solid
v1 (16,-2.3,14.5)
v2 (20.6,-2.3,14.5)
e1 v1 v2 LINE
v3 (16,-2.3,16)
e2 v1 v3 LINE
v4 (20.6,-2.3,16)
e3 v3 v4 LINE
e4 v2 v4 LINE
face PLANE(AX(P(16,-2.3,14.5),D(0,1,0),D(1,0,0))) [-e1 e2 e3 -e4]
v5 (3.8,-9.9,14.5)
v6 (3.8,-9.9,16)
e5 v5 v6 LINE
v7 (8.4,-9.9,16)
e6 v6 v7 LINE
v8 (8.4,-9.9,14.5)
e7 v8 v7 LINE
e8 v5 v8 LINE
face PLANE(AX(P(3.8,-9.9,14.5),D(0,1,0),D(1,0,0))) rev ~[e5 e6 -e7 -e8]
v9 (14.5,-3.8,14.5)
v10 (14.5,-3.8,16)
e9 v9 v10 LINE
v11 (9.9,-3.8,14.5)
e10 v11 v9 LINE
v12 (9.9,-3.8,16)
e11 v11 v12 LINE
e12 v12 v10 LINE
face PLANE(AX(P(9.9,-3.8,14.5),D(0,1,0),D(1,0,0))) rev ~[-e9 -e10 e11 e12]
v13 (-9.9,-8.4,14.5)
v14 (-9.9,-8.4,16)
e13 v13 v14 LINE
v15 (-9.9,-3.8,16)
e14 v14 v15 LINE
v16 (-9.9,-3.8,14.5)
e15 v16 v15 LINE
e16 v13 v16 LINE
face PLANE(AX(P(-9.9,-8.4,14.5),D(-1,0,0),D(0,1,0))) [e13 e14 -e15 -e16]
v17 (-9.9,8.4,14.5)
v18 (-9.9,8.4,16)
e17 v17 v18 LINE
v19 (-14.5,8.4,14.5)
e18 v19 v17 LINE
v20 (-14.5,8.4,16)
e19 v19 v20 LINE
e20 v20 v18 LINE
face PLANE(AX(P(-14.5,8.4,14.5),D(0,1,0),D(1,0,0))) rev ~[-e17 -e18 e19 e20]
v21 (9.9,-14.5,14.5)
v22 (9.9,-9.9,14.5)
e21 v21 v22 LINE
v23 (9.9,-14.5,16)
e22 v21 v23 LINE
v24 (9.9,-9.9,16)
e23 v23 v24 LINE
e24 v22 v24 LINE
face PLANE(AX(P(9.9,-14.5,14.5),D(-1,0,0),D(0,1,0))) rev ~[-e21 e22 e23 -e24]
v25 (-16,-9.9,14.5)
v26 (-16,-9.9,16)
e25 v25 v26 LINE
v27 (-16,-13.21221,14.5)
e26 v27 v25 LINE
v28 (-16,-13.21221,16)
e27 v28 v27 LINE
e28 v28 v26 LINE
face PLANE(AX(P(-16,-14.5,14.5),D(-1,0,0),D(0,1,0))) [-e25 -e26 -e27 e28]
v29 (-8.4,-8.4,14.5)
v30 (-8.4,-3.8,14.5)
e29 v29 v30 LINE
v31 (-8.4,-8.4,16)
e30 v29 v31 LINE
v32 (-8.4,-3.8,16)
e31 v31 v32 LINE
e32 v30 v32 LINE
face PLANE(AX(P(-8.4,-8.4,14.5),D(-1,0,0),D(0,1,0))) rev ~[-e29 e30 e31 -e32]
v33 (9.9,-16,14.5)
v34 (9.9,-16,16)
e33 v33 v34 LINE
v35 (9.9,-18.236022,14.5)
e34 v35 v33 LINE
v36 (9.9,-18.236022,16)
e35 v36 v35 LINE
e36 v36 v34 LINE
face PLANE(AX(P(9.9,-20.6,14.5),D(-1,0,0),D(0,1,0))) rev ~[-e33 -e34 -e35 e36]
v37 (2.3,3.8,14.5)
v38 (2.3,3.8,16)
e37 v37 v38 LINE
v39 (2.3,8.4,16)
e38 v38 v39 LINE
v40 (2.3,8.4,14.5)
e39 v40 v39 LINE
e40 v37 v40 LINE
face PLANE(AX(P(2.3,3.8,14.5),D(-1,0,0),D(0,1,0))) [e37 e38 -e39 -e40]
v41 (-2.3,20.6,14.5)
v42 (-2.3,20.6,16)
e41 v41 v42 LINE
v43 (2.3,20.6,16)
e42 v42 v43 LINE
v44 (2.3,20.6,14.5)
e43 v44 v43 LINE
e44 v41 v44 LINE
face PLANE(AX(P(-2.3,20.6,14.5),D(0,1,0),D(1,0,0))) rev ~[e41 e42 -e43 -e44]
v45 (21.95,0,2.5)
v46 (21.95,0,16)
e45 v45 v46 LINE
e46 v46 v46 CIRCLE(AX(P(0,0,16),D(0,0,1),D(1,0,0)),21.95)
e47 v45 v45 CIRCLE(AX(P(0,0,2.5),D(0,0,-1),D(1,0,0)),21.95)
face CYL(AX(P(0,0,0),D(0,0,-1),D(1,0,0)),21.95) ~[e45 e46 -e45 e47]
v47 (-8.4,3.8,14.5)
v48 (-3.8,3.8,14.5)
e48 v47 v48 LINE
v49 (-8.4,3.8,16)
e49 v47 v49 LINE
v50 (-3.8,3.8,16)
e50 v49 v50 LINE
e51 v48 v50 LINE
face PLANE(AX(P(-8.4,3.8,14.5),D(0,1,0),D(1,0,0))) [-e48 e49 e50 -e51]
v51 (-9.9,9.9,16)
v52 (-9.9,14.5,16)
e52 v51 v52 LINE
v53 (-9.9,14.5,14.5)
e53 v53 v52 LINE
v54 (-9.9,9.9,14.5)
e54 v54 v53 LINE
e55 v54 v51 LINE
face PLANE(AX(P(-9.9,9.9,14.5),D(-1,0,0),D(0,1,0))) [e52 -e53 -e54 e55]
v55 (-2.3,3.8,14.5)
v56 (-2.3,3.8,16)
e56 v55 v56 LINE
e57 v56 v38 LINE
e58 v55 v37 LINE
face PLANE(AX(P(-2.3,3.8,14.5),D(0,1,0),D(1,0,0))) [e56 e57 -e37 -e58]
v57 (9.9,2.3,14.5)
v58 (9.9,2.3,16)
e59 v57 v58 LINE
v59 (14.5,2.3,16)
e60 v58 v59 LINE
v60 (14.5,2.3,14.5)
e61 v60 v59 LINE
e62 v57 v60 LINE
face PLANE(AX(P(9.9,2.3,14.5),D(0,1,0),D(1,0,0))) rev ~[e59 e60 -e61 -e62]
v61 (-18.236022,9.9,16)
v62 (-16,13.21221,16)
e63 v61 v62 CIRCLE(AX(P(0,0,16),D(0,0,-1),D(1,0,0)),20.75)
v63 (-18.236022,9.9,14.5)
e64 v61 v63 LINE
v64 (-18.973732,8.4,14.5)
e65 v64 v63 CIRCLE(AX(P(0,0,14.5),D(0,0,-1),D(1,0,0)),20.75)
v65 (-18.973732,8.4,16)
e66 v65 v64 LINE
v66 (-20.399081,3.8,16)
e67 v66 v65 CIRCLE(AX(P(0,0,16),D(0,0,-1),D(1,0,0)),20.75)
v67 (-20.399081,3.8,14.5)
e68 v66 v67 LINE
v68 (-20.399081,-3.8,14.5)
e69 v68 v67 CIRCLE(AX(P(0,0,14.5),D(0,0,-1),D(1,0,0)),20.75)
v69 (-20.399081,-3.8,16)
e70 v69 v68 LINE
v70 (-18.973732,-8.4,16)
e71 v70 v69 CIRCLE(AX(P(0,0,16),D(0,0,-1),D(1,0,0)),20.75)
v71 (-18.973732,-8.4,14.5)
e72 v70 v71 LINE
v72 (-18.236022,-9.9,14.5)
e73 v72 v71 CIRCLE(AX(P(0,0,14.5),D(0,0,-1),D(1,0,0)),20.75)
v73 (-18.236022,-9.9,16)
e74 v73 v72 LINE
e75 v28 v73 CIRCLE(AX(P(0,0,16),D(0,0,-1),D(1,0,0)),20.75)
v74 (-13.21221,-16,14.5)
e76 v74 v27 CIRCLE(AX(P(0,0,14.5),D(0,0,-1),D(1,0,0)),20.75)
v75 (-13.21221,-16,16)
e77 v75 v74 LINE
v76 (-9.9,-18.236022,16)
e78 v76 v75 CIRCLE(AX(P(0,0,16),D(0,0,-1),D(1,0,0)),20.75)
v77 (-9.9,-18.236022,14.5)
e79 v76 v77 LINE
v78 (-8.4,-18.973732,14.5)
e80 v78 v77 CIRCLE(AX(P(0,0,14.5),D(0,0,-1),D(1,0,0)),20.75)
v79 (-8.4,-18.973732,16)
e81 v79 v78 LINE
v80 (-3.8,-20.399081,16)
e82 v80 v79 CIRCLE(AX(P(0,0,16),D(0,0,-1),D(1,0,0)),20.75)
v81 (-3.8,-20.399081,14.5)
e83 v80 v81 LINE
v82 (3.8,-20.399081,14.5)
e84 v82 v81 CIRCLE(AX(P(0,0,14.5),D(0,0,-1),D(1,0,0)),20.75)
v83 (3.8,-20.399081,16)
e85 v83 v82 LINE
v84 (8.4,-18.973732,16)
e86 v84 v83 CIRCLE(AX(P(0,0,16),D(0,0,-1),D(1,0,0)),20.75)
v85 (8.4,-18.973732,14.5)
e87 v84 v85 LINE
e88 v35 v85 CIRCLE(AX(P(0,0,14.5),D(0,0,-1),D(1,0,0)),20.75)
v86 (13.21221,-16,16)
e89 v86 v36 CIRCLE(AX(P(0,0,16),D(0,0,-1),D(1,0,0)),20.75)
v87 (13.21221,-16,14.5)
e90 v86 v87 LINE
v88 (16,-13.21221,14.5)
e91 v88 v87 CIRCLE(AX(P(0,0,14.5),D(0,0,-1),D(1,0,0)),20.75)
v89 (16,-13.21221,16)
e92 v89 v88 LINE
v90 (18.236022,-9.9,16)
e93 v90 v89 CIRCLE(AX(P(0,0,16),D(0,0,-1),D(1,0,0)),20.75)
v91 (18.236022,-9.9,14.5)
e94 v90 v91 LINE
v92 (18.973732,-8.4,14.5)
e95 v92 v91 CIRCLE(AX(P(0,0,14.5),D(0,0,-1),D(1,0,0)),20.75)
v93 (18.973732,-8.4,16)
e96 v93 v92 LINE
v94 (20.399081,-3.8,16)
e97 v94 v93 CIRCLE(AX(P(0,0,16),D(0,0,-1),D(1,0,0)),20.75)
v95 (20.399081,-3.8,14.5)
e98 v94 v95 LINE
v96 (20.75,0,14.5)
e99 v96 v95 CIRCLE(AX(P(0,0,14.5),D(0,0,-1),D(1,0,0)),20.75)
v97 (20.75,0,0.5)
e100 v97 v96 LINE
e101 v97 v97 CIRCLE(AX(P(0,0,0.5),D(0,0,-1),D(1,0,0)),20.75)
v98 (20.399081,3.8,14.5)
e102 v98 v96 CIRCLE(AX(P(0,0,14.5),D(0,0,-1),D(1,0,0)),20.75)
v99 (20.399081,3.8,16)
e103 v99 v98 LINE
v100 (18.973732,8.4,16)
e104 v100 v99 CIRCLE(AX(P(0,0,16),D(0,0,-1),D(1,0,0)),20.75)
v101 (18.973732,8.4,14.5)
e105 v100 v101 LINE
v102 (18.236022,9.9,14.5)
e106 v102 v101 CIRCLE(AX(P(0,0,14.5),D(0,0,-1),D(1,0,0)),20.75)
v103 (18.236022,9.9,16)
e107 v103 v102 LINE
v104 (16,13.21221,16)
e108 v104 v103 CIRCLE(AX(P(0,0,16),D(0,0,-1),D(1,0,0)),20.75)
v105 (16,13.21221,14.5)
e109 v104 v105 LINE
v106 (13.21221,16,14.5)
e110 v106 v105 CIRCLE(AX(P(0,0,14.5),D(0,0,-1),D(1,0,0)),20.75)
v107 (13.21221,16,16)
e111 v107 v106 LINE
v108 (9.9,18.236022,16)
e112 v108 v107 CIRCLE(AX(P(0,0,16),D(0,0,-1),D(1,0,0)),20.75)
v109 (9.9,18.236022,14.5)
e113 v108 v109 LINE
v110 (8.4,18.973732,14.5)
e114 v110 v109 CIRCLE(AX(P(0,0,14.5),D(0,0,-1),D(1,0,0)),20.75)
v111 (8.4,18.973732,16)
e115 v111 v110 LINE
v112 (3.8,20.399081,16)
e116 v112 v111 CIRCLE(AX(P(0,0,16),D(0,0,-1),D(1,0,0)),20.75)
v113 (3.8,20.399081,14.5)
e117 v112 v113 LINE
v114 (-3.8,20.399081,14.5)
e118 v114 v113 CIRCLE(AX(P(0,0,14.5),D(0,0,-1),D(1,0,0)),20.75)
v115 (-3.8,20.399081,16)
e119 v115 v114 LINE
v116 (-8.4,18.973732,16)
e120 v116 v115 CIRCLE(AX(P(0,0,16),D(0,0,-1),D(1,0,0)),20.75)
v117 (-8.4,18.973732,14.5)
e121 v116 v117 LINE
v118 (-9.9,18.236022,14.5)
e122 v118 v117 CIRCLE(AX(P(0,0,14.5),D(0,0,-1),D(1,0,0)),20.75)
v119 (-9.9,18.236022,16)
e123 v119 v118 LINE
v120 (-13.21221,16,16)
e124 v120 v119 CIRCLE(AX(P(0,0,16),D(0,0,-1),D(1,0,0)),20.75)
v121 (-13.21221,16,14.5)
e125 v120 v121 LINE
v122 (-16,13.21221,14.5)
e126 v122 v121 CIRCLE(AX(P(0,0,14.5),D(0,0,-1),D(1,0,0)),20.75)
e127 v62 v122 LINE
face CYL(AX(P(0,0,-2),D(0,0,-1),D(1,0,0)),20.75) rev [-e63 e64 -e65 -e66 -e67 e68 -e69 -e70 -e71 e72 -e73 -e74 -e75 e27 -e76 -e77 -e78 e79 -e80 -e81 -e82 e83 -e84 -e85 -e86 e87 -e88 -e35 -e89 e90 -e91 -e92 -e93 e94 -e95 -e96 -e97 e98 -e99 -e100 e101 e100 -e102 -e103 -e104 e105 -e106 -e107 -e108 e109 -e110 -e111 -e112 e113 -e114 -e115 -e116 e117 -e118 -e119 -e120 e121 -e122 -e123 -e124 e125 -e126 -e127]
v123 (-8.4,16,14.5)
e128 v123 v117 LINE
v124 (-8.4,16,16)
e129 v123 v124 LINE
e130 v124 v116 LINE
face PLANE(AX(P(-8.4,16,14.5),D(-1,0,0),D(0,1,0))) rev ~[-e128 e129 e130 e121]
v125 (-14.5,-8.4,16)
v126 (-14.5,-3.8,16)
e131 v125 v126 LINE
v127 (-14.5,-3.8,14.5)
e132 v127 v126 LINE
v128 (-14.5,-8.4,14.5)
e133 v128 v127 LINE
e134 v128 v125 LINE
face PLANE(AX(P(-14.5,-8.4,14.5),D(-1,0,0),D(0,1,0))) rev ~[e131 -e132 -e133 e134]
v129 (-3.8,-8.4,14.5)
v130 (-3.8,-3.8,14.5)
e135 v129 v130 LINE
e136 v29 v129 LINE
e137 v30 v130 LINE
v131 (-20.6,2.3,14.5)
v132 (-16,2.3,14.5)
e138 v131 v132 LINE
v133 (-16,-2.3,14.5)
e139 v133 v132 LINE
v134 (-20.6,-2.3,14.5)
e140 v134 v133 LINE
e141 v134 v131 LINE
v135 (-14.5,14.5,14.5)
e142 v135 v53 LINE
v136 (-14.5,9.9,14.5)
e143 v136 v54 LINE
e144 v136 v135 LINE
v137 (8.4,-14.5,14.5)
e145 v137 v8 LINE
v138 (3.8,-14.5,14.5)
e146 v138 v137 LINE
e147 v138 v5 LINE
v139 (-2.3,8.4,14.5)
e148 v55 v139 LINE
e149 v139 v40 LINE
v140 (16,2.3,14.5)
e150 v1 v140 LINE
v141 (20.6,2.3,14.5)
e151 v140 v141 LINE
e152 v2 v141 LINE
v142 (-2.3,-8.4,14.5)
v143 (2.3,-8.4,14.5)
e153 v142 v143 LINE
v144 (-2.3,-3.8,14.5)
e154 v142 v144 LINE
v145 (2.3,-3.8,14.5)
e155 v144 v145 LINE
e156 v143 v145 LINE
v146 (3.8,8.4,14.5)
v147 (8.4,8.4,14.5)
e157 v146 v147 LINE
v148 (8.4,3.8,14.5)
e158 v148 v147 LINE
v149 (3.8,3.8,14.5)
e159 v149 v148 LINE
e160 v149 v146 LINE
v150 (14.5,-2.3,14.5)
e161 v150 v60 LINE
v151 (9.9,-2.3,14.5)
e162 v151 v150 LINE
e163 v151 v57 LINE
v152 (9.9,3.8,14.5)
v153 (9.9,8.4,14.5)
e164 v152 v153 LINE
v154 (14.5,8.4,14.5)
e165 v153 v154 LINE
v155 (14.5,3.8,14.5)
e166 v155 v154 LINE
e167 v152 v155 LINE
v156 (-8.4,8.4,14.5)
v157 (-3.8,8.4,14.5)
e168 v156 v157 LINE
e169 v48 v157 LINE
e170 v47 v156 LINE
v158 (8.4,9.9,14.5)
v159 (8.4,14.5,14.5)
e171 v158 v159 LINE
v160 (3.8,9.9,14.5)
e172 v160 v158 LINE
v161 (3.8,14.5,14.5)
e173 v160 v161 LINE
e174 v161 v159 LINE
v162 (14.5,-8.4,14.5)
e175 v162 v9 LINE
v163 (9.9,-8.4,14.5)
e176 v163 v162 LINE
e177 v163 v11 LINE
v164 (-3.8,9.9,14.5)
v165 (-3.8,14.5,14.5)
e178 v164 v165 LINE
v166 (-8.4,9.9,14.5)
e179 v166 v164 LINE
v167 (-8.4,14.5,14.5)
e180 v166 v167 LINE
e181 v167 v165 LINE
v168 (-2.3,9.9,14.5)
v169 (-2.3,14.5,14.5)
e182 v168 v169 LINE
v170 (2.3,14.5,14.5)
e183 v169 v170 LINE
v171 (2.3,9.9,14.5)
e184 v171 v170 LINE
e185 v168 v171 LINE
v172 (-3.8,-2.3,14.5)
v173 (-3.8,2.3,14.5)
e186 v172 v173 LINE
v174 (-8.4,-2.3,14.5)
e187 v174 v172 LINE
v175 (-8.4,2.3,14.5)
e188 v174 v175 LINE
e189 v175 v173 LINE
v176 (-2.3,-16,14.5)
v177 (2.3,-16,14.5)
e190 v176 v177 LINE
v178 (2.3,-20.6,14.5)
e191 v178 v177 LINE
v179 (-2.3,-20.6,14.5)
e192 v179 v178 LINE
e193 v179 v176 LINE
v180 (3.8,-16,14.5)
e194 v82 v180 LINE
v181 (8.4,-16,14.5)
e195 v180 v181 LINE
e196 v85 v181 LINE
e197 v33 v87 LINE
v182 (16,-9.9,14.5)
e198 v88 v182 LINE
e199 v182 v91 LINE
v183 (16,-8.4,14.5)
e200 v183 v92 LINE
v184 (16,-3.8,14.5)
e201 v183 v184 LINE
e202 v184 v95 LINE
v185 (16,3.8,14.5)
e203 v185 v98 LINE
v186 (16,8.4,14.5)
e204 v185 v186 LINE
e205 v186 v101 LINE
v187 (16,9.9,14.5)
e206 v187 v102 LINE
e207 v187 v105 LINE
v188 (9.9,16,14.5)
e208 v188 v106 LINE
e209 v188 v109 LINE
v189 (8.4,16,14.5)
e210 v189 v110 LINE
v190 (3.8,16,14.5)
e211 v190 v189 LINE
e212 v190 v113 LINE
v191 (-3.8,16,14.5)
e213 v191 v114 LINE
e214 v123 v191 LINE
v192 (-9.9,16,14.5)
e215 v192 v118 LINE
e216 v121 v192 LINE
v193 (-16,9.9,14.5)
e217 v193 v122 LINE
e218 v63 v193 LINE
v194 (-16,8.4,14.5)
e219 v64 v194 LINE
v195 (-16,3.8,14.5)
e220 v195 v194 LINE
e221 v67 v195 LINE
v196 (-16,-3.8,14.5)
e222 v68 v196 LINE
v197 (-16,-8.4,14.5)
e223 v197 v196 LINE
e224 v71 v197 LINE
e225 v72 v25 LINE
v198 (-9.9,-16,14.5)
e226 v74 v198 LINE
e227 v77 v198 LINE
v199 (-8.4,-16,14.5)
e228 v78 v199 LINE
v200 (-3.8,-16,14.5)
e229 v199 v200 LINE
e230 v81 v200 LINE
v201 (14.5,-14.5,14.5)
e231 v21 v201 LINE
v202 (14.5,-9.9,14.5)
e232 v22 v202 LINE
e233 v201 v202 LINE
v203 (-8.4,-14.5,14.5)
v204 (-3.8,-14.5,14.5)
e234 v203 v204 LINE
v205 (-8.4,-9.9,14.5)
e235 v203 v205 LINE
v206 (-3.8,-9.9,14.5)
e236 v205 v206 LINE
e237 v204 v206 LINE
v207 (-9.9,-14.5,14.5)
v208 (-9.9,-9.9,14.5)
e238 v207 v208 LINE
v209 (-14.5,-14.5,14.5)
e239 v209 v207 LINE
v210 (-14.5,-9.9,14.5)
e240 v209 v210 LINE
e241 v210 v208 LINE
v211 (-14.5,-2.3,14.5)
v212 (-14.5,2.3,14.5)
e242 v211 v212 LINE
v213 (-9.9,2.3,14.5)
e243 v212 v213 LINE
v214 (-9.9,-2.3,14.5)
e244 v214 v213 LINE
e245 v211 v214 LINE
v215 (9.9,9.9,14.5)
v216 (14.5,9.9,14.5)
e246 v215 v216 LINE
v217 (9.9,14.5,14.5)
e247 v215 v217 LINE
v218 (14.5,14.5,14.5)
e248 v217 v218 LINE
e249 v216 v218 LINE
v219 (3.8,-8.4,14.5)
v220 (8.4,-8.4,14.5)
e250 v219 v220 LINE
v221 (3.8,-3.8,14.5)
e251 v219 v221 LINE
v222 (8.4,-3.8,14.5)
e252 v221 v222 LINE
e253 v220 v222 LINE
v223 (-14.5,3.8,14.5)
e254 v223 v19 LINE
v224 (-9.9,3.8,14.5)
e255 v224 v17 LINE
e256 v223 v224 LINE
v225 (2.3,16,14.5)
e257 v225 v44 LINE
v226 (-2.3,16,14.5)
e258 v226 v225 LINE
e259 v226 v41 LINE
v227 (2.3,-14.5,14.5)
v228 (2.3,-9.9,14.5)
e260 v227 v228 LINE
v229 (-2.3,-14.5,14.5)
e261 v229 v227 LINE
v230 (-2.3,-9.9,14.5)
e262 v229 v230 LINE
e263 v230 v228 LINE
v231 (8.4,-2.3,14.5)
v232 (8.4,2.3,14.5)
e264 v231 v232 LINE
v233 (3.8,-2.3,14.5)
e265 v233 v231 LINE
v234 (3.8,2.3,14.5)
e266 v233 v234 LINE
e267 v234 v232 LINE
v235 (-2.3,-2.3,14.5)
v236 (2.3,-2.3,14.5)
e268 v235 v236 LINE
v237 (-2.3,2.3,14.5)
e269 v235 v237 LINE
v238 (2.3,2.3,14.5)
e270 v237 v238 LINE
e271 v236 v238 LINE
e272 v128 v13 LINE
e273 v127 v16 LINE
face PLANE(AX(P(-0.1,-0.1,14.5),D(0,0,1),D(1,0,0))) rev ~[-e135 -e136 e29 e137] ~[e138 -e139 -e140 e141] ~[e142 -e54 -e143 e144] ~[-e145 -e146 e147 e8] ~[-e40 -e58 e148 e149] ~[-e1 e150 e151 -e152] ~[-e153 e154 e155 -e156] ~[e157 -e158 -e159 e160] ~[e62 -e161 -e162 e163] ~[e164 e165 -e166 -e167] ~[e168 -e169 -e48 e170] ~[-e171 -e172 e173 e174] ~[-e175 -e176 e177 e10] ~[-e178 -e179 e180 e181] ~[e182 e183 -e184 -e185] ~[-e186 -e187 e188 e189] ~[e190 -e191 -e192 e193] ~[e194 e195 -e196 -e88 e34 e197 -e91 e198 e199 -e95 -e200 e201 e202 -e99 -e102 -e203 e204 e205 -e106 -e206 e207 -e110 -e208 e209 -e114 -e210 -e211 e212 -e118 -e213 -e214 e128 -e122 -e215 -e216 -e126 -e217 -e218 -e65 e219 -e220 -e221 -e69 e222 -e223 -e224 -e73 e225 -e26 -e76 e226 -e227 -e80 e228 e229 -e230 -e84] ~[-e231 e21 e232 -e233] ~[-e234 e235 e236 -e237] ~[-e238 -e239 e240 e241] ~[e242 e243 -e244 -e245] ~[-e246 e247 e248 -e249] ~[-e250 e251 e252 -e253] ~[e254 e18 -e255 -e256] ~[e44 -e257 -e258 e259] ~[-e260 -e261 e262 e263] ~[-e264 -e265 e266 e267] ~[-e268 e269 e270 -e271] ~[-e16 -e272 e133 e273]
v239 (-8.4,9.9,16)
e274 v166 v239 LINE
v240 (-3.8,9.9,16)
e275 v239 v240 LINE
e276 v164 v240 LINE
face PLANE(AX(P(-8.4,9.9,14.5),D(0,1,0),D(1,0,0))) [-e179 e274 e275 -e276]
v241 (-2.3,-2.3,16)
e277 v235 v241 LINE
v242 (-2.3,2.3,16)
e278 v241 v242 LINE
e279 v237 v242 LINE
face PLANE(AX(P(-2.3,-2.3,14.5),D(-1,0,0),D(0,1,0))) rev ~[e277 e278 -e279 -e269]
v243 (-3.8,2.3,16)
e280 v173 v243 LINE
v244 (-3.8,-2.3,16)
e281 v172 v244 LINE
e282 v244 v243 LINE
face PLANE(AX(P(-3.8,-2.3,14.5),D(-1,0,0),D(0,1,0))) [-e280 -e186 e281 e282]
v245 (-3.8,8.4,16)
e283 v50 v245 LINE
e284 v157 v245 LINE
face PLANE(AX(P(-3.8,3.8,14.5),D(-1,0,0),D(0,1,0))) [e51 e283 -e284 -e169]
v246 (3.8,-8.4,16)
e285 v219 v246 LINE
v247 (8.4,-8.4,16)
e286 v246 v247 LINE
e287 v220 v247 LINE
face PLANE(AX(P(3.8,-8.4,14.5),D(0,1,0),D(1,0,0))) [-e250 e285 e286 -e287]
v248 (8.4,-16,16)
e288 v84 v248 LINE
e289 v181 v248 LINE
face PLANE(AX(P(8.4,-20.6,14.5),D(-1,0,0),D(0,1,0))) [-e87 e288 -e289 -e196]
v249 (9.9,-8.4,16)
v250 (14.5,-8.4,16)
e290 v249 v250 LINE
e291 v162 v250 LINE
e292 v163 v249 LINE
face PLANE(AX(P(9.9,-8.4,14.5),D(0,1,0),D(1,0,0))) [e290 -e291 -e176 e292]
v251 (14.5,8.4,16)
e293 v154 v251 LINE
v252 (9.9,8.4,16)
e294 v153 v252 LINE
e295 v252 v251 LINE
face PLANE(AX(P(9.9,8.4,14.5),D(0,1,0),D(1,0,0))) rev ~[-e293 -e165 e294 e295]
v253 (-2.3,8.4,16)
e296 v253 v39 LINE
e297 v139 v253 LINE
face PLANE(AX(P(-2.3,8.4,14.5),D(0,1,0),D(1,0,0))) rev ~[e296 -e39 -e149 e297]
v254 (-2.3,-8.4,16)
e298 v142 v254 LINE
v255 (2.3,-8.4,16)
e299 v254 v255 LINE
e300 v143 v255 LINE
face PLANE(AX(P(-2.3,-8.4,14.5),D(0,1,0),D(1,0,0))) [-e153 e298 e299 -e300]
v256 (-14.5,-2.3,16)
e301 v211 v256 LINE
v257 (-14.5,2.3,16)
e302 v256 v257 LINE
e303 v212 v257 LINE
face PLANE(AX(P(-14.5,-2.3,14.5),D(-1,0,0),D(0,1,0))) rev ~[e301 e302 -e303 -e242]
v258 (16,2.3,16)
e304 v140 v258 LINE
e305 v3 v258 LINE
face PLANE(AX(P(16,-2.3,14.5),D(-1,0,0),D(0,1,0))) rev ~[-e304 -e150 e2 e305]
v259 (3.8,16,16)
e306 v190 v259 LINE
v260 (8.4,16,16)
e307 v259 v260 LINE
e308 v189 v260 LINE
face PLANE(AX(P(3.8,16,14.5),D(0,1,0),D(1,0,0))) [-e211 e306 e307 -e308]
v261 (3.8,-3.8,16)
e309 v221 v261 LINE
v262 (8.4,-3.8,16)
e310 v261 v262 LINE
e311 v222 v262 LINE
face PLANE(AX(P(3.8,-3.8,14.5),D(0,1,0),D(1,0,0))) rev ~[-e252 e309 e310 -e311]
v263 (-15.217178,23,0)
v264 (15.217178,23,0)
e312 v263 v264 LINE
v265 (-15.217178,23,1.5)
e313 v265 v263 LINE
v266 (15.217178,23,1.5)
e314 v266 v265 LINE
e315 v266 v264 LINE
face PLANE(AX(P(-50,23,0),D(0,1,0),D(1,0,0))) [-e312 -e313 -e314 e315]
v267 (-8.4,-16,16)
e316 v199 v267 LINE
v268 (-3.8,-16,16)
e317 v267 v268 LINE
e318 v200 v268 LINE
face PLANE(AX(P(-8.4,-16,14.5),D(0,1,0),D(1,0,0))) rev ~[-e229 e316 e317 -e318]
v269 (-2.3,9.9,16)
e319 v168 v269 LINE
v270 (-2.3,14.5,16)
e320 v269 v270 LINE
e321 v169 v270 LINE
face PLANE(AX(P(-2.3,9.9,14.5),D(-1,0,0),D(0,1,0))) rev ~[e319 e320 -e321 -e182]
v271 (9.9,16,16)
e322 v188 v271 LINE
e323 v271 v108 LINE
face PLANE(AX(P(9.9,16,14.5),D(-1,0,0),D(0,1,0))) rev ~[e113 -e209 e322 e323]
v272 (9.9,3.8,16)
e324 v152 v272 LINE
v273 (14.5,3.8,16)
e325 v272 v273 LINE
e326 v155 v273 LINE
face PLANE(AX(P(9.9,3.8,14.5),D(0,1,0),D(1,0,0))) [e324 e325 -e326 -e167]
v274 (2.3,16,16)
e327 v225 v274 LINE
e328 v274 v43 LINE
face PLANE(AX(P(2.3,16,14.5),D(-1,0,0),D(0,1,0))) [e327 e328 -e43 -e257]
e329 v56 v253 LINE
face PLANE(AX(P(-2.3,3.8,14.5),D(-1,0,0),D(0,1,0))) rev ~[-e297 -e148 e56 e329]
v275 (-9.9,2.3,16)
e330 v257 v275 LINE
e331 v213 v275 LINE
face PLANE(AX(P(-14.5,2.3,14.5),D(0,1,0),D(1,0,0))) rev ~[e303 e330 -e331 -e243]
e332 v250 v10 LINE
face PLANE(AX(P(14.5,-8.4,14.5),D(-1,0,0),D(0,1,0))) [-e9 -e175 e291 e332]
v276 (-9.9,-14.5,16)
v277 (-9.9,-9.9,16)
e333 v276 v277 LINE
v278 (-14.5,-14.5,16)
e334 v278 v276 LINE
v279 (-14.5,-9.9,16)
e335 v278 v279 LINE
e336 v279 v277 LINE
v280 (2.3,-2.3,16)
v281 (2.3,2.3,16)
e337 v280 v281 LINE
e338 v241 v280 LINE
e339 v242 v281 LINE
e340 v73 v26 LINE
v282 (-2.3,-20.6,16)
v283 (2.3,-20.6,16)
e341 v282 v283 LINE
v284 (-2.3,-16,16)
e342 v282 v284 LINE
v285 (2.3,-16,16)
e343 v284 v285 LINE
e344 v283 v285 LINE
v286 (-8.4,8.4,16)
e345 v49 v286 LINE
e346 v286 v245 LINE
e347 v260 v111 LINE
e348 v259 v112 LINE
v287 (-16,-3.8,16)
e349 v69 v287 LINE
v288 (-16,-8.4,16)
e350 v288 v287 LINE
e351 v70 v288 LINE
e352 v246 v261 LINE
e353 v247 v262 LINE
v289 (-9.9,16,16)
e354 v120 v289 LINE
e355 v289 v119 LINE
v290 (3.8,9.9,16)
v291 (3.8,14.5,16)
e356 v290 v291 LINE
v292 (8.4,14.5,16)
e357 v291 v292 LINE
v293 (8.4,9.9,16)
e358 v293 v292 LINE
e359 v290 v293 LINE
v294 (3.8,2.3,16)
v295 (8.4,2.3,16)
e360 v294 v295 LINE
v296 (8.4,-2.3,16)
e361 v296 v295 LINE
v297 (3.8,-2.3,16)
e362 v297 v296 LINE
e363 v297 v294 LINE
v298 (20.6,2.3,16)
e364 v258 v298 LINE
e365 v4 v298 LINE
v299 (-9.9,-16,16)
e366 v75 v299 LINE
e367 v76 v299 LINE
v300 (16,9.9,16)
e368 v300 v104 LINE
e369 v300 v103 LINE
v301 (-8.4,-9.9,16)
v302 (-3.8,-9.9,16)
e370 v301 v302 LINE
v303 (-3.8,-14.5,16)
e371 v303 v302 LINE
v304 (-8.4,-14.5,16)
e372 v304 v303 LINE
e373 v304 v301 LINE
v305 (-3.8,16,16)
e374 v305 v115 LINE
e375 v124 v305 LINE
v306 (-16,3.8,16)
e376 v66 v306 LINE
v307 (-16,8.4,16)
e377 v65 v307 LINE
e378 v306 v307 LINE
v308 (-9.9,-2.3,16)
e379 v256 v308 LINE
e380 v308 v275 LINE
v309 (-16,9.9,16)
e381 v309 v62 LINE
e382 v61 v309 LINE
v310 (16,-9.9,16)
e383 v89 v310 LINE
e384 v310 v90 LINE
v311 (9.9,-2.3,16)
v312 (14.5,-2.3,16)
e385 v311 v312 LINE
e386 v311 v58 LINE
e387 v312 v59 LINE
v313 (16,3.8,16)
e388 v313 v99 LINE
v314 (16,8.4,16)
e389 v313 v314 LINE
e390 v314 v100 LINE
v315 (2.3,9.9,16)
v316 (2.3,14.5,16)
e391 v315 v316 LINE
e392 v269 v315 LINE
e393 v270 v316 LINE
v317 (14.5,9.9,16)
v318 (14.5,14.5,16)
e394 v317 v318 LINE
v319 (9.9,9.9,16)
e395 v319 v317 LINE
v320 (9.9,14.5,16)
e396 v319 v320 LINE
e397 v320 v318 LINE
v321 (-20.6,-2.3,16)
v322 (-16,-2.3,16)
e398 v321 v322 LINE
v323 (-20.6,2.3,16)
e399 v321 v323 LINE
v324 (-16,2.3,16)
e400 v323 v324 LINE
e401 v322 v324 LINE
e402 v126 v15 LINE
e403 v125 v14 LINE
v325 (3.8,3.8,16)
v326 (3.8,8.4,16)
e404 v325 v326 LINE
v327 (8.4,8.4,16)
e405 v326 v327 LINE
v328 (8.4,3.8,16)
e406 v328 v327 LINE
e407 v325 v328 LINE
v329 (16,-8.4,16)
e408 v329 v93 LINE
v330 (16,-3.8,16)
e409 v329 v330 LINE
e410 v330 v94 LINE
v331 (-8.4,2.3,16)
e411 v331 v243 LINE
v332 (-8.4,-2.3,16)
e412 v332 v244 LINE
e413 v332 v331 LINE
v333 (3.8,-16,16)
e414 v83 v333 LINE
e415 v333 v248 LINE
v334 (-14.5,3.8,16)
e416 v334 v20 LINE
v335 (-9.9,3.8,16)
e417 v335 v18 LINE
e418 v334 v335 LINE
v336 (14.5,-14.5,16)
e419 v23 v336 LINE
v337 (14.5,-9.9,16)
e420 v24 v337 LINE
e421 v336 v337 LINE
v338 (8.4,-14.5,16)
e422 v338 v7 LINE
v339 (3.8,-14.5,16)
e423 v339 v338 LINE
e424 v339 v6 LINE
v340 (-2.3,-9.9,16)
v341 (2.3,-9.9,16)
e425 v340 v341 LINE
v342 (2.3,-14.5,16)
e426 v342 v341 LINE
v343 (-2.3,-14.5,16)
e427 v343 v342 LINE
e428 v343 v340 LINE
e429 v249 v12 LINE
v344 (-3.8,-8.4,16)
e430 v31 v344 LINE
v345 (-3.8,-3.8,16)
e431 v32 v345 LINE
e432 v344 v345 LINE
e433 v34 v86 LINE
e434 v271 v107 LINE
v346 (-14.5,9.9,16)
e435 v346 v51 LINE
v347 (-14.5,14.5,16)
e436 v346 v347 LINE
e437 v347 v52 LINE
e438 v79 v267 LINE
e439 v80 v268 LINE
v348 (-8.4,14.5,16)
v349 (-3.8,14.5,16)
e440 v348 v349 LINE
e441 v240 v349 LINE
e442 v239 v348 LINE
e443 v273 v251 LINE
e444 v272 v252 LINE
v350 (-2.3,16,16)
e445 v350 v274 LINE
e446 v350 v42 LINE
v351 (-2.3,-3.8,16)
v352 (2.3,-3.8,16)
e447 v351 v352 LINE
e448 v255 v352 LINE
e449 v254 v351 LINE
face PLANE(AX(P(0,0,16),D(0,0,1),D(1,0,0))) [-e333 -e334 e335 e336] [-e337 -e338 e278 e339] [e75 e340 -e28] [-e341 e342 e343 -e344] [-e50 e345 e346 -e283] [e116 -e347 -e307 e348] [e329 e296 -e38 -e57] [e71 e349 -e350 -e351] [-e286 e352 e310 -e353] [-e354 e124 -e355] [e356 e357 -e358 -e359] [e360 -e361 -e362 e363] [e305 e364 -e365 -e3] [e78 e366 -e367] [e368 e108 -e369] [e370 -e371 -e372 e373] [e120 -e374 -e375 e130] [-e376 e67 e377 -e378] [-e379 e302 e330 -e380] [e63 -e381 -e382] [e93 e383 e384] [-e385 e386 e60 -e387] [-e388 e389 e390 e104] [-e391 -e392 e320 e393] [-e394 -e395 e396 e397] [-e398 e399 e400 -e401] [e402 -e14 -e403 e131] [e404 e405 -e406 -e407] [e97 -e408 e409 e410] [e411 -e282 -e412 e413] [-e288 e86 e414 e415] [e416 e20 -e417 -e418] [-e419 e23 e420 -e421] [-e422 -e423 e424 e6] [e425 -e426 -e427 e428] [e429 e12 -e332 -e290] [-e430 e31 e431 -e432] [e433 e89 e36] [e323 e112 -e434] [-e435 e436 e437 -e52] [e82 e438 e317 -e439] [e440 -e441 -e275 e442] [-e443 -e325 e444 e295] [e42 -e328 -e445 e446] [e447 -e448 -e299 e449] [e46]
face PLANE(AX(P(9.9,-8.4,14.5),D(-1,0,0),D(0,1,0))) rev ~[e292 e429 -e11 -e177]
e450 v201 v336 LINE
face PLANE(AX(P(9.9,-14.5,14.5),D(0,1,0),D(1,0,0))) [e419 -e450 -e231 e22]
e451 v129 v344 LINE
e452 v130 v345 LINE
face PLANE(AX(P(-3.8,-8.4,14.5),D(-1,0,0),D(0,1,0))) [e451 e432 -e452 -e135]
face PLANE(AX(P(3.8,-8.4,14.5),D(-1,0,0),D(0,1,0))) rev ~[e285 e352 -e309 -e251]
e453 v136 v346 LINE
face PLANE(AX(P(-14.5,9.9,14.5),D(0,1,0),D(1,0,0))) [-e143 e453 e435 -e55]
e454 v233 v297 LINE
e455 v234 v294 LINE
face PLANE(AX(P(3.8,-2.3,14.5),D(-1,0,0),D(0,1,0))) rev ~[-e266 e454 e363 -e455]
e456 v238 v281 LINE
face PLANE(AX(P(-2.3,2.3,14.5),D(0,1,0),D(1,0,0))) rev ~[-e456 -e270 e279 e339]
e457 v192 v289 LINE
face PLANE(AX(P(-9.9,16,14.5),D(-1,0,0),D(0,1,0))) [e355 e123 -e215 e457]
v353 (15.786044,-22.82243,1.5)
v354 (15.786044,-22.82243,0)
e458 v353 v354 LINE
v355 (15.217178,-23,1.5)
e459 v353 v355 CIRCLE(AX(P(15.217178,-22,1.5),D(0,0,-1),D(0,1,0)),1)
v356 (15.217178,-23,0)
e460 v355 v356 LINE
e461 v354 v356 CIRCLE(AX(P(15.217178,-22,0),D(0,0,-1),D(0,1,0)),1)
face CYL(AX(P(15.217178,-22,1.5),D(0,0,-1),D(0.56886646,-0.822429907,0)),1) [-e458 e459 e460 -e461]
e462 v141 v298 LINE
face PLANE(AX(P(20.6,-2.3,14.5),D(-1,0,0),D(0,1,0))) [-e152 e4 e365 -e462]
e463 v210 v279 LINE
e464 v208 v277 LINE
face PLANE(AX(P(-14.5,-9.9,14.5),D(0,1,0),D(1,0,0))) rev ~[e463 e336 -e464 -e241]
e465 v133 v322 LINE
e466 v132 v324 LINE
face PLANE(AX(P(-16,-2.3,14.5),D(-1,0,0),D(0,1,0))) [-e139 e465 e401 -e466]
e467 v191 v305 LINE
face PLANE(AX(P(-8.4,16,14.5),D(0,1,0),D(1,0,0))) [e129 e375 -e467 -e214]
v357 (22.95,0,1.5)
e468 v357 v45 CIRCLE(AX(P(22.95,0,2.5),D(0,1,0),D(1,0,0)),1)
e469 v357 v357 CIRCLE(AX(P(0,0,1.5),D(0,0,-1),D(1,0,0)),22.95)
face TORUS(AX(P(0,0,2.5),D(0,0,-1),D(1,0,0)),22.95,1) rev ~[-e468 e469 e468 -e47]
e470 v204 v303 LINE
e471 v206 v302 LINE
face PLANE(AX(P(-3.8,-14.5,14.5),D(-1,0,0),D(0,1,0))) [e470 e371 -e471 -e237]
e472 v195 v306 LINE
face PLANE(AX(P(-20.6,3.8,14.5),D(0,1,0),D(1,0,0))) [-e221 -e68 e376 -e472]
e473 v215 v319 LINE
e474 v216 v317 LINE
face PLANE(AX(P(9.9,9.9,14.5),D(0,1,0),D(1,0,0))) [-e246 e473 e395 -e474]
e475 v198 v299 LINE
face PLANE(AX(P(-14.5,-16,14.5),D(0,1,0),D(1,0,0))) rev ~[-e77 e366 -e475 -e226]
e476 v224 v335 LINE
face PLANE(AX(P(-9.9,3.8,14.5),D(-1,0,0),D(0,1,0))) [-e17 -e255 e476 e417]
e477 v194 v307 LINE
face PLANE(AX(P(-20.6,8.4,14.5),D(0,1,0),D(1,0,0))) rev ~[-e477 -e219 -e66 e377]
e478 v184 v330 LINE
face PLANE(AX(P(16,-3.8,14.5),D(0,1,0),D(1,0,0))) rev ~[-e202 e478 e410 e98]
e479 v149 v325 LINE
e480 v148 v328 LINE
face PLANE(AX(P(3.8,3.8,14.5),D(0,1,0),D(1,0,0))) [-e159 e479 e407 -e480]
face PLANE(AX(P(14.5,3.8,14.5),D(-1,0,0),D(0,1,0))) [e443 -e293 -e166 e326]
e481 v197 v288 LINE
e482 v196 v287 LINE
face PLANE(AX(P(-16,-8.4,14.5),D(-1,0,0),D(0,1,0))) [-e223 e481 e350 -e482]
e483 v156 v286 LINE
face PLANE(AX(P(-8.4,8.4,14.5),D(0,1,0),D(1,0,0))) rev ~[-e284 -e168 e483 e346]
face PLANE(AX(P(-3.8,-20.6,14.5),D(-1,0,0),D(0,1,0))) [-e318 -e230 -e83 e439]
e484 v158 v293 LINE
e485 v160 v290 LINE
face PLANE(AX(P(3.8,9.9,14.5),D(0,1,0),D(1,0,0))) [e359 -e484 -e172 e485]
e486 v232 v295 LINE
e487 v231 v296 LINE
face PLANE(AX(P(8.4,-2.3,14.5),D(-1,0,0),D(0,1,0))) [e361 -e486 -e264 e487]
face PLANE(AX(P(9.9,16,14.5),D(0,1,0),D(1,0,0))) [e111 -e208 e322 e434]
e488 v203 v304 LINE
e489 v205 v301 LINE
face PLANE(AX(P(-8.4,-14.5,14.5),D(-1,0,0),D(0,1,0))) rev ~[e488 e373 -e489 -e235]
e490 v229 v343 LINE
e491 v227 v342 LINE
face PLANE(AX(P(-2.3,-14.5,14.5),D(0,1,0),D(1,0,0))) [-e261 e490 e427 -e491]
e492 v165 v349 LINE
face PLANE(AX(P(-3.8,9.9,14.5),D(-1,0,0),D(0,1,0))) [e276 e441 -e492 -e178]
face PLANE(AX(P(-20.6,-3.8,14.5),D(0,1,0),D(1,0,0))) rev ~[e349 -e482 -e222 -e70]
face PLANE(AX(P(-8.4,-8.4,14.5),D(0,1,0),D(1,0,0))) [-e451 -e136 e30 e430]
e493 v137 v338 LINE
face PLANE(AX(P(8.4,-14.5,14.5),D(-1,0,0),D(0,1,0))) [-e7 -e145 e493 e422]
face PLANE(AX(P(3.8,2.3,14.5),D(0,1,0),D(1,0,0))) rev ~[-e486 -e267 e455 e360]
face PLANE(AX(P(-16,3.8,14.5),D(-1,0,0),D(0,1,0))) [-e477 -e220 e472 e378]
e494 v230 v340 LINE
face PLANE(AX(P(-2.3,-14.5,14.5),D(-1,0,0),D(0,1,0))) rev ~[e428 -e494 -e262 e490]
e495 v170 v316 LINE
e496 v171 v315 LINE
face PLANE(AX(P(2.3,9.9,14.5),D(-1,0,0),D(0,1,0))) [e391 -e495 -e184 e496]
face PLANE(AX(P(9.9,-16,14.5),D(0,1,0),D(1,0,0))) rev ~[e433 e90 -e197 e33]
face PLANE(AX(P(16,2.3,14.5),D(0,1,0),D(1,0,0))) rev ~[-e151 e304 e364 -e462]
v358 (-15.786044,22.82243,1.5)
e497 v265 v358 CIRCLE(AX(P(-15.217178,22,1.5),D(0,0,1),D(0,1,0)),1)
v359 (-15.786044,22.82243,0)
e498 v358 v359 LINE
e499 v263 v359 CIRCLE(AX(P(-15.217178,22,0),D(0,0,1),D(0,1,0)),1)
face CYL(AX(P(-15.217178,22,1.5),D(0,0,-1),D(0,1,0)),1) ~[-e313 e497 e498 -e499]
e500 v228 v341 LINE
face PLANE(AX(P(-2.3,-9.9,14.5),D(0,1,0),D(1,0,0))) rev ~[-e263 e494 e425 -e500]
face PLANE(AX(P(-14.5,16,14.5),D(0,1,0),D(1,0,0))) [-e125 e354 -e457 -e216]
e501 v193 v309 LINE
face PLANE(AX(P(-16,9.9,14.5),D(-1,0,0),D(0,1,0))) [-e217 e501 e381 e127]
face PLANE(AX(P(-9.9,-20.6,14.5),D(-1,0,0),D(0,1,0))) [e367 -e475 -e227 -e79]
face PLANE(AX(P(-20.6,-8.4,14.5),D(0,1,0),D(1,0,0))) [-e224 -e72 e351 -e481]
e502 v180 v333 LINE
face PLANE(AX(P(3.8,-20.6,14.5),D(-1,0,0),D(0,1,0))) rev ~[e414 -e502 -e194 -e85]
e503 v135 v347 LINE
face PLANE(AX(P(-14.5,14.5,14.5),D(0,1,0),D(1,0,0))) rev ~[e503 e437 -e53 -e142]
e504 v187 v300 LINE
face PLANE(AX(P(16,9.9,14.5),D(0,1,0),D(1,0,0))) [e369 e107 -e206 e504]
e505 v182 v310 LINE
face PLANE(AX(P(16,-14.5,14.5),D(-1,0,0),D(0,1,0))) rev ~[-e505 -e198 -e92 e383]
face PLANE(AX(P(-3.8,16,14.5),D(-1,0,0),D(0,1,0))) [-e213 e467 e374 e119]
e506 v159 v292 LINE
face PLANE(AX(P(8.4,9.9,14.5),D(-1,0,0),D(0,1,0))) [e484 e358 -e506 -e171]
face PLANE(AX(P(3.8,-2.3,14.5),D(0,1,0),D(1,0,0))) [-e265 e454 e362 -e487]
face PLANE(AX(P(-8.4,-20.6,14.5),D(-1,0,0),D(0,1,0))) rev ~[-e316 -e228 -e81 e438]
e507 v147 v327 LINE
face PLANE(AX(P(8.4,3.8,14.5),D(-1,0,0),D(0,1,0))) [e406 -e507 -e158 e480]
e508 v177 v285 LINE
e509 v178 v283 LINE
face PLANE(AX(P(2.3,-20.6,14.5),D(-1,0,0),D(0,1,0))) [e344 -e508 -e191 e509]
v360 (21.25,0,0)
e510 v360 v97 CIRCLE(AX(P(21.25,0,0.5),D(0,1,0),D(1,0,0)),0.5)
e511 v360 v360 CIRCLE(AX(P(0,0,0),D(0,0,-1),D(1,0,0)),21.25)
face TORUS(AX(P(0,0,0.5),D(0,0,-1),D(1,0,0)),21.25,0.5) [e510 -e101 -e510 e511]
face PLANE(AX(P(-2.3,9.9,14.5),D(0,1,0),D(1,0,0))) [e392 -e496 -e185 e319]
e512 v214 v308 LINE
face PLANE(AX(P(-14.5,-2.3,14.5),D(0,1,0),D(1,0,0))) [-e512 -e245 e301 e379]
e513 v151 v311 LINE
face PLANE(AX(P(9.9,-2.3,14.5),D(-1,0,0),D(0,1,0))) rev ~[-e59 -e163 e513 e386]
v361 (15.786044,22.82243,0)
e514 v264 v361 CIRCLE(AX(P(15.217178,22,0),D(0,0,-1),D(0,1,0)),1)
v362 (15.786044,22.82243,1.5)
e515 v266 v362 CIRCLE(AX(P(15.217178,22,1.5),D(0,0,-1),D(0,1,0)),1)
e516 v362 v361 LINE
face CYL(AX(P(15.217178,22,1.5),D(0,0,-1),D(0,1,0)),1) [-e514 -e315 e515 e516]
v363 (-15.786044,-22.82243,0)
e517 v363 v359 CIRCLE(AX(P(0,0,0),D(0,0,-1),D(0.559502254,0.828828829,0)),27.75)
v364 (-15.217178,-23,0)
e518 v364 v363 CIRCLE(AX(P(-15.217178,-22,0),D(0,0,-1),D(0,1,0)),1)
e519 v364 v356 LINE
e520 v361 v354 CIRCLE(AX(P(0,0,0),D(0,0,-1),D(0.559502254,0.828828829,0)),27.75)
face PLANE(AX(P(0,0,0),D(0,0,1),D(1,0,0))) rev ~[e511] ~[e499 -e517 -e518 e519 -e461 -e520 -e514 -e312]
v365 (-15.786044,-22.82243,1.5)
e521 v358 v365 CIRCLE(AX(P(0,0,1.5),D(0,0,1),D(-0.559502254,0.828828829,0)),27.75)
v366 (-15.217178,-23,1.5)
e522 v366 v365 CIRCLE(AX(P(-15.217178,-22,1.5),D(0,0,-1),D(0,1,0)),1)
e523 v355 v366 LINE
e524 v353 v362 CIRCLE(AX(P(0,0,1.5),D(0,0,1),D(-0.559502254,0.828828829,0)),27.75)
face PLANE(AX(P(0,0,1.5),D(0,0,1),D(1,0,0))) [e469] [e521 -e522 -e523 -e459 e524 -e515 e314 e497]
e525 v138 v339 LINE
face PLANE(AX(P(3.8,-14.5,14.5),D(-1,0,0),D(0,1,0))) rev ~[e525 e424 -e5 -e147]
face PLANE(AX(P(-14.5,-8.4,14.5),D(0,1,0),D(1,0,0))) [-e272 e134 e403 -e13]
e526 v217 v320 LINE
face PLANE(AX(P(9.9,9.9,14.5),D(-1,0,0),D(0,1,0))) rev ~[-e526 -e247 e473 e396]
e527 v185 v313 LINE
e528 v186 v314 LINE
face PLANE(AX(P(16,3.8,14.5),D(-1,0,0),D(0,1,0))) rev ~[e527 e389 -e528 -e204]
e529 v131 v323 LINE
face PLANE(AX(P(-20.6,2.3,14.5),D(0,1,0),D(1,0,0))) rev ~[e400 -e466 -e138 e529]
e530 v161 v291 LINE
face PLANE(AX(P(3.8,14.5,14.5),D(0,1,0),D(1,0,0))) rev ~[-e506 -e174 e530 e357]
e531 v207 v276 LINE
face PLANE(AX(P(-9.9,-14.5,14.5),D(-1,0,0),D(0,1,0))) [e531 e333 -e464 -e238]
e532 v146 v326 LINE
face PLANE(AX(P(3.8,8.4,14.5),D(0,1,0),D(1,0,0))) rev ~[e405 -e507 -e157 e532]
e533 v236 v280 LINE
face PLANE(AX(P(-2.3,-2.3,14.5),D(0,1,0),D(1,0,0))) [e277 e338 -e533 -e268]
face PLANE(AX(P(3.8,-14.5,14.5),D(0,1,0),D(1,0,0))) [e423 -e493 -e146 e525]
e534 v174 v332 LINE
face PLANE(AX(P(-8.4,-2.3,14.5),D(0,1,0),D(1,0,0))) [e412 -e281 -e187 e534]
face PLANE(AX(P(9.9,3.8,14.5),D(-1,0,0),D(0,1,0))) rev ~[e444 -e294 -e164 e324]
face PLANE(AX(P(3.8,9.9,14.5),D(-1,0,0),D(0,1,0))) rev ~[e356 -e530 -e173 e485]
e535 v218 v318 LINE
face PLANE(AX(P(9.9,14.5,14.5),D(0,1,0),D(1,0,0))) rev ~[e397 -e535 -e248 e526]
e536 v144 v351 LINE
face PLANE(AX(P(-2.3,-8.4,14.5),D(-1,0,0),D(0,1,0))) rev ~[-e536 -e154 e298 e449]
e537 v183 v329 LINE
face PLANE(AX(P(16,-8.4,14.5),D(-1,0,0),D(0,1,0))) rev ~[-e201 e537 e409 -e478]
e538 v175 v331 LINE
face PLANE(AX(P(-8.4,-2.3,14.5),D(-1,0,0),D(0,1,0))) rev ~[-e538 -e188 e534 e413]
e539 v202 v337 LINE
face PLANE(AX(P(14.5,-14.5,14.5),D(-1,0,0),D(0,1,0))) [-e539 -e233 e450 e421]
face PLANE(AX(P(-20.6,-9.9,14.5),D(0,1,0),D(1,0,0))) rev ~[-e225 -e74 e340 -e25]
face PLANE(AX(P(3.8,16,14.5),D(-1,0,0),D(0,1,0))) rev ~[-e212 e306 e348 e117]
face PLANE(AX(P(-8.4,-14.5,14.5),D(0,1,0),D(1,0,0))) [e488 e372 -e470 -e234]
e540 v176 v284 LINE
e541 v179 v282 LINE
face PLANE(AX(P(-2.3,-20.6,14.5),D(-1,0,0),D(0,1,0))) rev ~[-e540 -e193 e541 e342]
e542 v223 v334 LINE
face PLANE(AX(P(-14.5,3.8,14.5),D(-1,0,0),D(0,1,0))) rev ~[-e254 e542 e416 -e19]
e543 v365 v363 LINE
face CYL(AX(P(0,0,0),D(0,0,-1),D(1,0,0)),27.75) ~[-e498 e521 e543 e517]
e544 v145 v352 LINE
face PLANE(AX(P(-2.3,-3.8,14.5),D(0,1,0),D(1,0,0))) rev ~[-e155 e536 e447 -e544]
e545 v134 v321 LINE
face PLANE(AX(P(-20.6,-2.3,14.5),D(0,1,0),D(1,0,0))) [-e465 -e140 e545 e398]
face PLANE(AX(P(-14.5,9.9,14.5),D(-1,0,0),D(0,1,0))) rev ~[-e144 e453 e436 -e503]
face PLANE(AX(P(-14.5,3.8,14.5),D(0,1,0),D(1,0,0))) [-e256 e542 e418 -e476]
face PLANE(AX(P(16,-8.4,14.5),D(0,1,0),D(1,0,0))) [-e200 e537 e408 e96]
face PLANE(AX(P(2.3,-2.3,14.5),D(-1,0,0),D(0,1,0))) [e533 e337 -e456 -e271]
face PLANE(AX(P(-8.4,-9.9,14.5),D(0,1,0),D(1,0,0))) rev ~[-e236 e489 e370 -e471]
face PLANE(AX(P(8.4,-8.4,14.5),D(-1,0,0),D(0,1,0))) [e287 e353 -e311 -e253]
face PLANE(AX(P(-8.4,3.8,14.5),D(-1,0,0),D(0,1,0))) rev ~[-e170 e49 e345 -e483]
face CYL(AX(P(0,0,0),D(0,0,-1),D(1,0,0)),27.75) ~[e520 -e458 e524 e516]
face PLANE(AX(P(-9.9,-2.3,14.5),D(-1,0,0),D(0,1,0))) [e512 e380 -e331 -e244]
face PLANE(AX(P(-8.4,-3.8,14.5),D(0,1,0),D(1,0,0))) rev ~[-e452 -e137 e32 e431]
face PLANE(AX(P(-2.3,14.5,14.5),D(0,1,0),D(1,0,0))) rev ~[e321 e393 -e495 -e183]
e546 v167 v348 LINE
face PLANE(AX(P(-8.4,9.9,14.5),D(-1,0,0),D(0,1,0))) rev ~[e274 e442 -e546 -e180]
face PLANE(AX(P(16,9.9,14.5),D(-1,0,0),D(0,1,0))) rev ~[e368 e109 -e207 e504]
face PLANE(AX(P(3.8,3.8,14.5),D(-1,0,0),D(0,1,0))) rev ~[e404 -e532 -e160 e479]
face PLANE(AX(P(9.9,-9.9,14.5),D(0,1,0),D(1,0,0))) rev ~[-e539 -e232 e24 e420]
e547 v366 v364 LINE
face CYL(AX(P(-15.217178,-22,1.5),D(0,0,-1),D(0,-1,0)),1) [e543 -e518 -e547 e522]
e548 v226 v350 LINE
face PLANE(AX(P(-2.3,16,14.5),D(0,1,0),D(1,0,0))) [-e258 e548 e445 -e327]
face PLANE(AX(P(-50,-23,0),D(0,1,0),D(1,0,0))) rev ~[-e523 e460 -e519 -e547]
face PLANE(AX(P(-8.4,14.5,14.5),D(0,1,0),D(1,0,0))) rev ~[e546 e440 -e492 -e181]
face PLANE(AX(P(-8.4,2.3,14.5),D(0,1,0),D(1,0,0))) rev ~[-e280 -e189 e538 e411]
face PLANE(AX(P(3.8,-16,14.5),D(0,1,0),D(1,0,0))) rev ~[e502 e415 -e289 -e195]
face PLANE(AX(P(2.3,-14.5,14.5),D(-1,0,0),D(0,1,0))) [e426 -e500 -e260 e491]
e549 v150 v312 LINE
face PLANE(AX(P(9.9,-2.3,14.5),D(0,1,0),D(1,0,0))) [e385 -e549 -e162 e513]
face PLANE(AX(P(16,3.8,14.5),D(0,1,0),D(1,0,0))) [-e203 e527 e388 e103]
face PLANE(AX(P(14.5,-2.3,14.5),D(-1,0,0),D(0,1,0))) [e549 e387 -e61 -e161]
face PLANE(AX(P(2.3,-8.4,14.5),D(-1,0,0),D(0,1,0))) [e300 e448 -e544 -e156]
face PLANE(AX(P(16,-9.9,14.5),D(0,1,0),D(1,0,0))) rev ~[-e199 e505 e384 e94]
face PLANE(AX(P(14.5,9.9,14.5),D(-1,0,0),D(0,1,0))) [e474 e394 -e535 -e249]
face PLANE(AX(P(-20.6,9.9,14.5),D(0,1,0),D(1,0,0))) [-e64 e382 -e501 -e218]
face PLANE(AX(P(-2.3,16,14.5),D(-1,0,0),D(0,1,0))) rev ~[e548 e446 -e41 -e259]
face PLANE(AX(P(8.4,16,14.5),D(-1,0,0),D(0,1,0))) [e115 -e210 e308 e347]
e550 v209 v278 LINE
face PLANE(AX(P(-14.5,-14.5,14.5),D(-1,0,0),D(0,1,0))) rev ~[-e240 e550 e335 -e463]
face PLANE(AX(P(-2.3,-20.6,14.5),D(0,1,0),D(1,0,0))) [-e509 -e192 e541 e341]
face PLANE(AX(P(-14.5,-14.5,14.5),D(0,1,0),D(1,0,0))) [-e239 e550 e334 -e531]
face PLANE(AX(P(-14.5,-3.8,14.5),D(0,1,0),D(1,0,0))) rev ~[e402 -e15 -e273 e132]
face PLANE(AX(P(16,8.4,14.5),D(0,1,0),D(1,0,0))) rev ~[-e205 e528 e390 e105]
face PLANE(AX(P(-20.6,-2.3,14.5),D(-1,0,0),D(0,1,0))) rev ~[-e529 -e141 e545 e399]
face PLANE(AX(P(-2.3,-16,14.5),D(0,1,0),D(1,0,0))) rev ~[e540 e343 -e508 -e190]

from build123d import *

# Parameters (mm, degrees)
BOX004_W          = 100
BOX004_H          = 30
BOX004_DEPTH      = 10
BOX003_W          = 100
BOX003_H          = 30
BOX003_DEPTH      = 10
CYLINDER003_R     = 20.95
CYLINDER003_DEPTH = 20
CYLINDER004_R     = 35
CYLINDER004_DEPTH = 20
BOX_W             = 4.6
BOX_H             = 4.6
BOX_DEPTH         = 1.5
ARRAY_X_COUNT     = 7
ARRAY_X_PITCH     = 6.1
ARRAY_Y_COUNT     = 7
ARRAY_Y_PITCH     = 6.1
BOX002_W          = 45
BOX002_H          = 45
BOX002_DEPTH      = 1.5
CYLINDER002_R     = 20.75
CYLINDER002_DEPTH = 20
CYLINDER001_R     = 21.95
CYLINDER001_DEPTH = 16
CYLINDER_R        = 27.75
CYLINDER_DEPTH    = 1.5
FILLET_R          = 1
FILLET001_R       = 1
FILLET002_R       = 0.5


with BuildPart() as cube004:
    # Box004 → Box004 (new body)
    with BuildSketch(Plane(origin=(-50, -53, 0), x_dir=(1, 0, 0), z_dir=(0, 0, 1))):
        with Locations((50, 15)):
            Rectangle(BOX004_W, BOX004_H)
    extrude(amount=BOX004_DEPTH)


with BuildPart() as cube003:
    # Box003 → Box003 (new body)
    with BuildSketch(Plane(origin=(-50, 23, 0), x_dir=(1, 0, 0), z_dir=(0, 0, 1))):
        with Locations((50, 15)):
            Rectangle(BOX003_W, BOX003_H)
    extrude(amount=BOX003_DEPTH)


with BuildPart() as cylinder003:
    # Cylinder003 → Cylinder003 (new body)
    with BuildSketch(Plane.XY.offset(-2)):
        Circle(CYLINDER003_R)
    extrude(amount=CYLINDER003_DEPTH)


with BuildPart() as corte_cilindro:
    # Cylinder004 → Cylinder004 (new body)
    with BuildSketch(Plane.XY.offset(-2)):
        Circle(CYLINDER004_R)
    extrude(amount=CYLINDER004_DEPTH)

    # Cut001: cut Cylinder003
    add(cylinder003.part, mode=Mode.SUBTRACT)


with BuildPart() as array:
    # Box → Box (new body)
    with BuildSketch(Plane(origin=(-2.3, -2.3, 0), x_dir=(1, 0, 0), z_dir=(0, 0, 1))):
        with Locations((2.3, 2.3)):
            Rectangle(BOX_W, BOX_H)
    extrude(amount=BOX_DEPTH)

    # Array X: Array ×7


with BuildPart() as array_1:
    add(array.part)
    with Locations(*[(i * ARRAY_X_PITCH, 0, 0) for i in range(1, ARRAY_X_COUNT)]):
        add(array.part)

    # Array Y: Array ×7


with BuildPart() as array_2:
    add(array_1.part)
    with Locations(*[(0, i * ARRAY_Y_PITCH, 0) for i in range(1, ARRAY_Y_COUNT)]):
        add(array_1.part)


with BuildPart() as array_3:
    # Array placement: moved
    add(array_2.part.moved(Location((-18.3, -18.3, 0))))


with BuildPart() as rejilla:
    # Box002 → Box002 (new body)
    with BuildSketch(Plane(origin=(-22.6, -22.6, 0), x_dir=(1, 0, 0), z_dir=(0, 0, 1))):
        with Locations((22.5, 22.5)):
            Rectangle(BOX002_W, BOX002_H)
    extrude(amount=BOX002_DEPTH)

    # Cut002: cut Array
    add(array_3.part, mode=Mode.SUBTRACT)

    # Cut003: cut corte_cilindro
    add(corte_cilindro.part, mode=Mode.SUBTRACT)


with BuildPart() as rejilla_1:
    # Cut003 placement: moved
    add(rejilla.part.moved(Location((0, 0, 14.5))))


with BuildPart() as cylinder002:
    # Cylinder002 → Cylinder002 (new body)
    with BuildSketch(Plane.XY.offset(-2)):
        Circle(CYLINDER002_R)
    extrude(amount=CYLINDER002_DEPTH)


with BuildPart() as cylinder001:
    # Cylinder001 → Cylinder001 (new body)
    with BuildSketch(Plane.XY):
        Circle(CYLINDER001_R)
    extrude(amount=CYLINDER001_DEPTH)


with BuildPart() as fillet002:
    # Cylinder → Cylinder (new body)
    with BuildSketch(Plane.XY):
        Circle(CYLINDER_R)
    extrude(amount=CYLINDER_DEPTH)

    # Fusion: union Cylinder001
    add(cylinder001.part)

    # Fillet
    fillet_edges = [fillet002.edges().sort_by_distance(p)[0] for p in [
        (-21.95, 0, 1.5),
    ]]
    fillet(fillet_edges, radius=FILLET_R)

    # Cut: cut Cylinder002
    add(cylinder002.part, mode=Mode.SUBTRACT)

    # Fusion001: union rejilla
    add(rejilla_1.part)

    # Cut004: cut Cube003
    add(cube003.part, mode=Mode.SUBTRACT)

    # Cut005: cut Cube004
    add(cube004.part, mode=Mode.SUBTRACT)

    # Fillet001
    fillet001_edges = [fillet002.edges().sort_by_distance(p)[0] for p in [
        (15.526188, 23, 0.75),
        (-15.526188, 23, 0.75),
        (15.526188, -23, 0.75),
        (-15.526188, -23, 0.75),
    ]]
    fillet(fillet001_edges, radius=FILLET001_R)

    # Fillet002
    fillet002_edges = [fillet002.edges().sort_by_distance(p)[0] for p in [
        (-20.75, 0, 0),
    ]]
    fillet(fillet002_edges, radius=FILLET002_R)


solid = fillet002.part
